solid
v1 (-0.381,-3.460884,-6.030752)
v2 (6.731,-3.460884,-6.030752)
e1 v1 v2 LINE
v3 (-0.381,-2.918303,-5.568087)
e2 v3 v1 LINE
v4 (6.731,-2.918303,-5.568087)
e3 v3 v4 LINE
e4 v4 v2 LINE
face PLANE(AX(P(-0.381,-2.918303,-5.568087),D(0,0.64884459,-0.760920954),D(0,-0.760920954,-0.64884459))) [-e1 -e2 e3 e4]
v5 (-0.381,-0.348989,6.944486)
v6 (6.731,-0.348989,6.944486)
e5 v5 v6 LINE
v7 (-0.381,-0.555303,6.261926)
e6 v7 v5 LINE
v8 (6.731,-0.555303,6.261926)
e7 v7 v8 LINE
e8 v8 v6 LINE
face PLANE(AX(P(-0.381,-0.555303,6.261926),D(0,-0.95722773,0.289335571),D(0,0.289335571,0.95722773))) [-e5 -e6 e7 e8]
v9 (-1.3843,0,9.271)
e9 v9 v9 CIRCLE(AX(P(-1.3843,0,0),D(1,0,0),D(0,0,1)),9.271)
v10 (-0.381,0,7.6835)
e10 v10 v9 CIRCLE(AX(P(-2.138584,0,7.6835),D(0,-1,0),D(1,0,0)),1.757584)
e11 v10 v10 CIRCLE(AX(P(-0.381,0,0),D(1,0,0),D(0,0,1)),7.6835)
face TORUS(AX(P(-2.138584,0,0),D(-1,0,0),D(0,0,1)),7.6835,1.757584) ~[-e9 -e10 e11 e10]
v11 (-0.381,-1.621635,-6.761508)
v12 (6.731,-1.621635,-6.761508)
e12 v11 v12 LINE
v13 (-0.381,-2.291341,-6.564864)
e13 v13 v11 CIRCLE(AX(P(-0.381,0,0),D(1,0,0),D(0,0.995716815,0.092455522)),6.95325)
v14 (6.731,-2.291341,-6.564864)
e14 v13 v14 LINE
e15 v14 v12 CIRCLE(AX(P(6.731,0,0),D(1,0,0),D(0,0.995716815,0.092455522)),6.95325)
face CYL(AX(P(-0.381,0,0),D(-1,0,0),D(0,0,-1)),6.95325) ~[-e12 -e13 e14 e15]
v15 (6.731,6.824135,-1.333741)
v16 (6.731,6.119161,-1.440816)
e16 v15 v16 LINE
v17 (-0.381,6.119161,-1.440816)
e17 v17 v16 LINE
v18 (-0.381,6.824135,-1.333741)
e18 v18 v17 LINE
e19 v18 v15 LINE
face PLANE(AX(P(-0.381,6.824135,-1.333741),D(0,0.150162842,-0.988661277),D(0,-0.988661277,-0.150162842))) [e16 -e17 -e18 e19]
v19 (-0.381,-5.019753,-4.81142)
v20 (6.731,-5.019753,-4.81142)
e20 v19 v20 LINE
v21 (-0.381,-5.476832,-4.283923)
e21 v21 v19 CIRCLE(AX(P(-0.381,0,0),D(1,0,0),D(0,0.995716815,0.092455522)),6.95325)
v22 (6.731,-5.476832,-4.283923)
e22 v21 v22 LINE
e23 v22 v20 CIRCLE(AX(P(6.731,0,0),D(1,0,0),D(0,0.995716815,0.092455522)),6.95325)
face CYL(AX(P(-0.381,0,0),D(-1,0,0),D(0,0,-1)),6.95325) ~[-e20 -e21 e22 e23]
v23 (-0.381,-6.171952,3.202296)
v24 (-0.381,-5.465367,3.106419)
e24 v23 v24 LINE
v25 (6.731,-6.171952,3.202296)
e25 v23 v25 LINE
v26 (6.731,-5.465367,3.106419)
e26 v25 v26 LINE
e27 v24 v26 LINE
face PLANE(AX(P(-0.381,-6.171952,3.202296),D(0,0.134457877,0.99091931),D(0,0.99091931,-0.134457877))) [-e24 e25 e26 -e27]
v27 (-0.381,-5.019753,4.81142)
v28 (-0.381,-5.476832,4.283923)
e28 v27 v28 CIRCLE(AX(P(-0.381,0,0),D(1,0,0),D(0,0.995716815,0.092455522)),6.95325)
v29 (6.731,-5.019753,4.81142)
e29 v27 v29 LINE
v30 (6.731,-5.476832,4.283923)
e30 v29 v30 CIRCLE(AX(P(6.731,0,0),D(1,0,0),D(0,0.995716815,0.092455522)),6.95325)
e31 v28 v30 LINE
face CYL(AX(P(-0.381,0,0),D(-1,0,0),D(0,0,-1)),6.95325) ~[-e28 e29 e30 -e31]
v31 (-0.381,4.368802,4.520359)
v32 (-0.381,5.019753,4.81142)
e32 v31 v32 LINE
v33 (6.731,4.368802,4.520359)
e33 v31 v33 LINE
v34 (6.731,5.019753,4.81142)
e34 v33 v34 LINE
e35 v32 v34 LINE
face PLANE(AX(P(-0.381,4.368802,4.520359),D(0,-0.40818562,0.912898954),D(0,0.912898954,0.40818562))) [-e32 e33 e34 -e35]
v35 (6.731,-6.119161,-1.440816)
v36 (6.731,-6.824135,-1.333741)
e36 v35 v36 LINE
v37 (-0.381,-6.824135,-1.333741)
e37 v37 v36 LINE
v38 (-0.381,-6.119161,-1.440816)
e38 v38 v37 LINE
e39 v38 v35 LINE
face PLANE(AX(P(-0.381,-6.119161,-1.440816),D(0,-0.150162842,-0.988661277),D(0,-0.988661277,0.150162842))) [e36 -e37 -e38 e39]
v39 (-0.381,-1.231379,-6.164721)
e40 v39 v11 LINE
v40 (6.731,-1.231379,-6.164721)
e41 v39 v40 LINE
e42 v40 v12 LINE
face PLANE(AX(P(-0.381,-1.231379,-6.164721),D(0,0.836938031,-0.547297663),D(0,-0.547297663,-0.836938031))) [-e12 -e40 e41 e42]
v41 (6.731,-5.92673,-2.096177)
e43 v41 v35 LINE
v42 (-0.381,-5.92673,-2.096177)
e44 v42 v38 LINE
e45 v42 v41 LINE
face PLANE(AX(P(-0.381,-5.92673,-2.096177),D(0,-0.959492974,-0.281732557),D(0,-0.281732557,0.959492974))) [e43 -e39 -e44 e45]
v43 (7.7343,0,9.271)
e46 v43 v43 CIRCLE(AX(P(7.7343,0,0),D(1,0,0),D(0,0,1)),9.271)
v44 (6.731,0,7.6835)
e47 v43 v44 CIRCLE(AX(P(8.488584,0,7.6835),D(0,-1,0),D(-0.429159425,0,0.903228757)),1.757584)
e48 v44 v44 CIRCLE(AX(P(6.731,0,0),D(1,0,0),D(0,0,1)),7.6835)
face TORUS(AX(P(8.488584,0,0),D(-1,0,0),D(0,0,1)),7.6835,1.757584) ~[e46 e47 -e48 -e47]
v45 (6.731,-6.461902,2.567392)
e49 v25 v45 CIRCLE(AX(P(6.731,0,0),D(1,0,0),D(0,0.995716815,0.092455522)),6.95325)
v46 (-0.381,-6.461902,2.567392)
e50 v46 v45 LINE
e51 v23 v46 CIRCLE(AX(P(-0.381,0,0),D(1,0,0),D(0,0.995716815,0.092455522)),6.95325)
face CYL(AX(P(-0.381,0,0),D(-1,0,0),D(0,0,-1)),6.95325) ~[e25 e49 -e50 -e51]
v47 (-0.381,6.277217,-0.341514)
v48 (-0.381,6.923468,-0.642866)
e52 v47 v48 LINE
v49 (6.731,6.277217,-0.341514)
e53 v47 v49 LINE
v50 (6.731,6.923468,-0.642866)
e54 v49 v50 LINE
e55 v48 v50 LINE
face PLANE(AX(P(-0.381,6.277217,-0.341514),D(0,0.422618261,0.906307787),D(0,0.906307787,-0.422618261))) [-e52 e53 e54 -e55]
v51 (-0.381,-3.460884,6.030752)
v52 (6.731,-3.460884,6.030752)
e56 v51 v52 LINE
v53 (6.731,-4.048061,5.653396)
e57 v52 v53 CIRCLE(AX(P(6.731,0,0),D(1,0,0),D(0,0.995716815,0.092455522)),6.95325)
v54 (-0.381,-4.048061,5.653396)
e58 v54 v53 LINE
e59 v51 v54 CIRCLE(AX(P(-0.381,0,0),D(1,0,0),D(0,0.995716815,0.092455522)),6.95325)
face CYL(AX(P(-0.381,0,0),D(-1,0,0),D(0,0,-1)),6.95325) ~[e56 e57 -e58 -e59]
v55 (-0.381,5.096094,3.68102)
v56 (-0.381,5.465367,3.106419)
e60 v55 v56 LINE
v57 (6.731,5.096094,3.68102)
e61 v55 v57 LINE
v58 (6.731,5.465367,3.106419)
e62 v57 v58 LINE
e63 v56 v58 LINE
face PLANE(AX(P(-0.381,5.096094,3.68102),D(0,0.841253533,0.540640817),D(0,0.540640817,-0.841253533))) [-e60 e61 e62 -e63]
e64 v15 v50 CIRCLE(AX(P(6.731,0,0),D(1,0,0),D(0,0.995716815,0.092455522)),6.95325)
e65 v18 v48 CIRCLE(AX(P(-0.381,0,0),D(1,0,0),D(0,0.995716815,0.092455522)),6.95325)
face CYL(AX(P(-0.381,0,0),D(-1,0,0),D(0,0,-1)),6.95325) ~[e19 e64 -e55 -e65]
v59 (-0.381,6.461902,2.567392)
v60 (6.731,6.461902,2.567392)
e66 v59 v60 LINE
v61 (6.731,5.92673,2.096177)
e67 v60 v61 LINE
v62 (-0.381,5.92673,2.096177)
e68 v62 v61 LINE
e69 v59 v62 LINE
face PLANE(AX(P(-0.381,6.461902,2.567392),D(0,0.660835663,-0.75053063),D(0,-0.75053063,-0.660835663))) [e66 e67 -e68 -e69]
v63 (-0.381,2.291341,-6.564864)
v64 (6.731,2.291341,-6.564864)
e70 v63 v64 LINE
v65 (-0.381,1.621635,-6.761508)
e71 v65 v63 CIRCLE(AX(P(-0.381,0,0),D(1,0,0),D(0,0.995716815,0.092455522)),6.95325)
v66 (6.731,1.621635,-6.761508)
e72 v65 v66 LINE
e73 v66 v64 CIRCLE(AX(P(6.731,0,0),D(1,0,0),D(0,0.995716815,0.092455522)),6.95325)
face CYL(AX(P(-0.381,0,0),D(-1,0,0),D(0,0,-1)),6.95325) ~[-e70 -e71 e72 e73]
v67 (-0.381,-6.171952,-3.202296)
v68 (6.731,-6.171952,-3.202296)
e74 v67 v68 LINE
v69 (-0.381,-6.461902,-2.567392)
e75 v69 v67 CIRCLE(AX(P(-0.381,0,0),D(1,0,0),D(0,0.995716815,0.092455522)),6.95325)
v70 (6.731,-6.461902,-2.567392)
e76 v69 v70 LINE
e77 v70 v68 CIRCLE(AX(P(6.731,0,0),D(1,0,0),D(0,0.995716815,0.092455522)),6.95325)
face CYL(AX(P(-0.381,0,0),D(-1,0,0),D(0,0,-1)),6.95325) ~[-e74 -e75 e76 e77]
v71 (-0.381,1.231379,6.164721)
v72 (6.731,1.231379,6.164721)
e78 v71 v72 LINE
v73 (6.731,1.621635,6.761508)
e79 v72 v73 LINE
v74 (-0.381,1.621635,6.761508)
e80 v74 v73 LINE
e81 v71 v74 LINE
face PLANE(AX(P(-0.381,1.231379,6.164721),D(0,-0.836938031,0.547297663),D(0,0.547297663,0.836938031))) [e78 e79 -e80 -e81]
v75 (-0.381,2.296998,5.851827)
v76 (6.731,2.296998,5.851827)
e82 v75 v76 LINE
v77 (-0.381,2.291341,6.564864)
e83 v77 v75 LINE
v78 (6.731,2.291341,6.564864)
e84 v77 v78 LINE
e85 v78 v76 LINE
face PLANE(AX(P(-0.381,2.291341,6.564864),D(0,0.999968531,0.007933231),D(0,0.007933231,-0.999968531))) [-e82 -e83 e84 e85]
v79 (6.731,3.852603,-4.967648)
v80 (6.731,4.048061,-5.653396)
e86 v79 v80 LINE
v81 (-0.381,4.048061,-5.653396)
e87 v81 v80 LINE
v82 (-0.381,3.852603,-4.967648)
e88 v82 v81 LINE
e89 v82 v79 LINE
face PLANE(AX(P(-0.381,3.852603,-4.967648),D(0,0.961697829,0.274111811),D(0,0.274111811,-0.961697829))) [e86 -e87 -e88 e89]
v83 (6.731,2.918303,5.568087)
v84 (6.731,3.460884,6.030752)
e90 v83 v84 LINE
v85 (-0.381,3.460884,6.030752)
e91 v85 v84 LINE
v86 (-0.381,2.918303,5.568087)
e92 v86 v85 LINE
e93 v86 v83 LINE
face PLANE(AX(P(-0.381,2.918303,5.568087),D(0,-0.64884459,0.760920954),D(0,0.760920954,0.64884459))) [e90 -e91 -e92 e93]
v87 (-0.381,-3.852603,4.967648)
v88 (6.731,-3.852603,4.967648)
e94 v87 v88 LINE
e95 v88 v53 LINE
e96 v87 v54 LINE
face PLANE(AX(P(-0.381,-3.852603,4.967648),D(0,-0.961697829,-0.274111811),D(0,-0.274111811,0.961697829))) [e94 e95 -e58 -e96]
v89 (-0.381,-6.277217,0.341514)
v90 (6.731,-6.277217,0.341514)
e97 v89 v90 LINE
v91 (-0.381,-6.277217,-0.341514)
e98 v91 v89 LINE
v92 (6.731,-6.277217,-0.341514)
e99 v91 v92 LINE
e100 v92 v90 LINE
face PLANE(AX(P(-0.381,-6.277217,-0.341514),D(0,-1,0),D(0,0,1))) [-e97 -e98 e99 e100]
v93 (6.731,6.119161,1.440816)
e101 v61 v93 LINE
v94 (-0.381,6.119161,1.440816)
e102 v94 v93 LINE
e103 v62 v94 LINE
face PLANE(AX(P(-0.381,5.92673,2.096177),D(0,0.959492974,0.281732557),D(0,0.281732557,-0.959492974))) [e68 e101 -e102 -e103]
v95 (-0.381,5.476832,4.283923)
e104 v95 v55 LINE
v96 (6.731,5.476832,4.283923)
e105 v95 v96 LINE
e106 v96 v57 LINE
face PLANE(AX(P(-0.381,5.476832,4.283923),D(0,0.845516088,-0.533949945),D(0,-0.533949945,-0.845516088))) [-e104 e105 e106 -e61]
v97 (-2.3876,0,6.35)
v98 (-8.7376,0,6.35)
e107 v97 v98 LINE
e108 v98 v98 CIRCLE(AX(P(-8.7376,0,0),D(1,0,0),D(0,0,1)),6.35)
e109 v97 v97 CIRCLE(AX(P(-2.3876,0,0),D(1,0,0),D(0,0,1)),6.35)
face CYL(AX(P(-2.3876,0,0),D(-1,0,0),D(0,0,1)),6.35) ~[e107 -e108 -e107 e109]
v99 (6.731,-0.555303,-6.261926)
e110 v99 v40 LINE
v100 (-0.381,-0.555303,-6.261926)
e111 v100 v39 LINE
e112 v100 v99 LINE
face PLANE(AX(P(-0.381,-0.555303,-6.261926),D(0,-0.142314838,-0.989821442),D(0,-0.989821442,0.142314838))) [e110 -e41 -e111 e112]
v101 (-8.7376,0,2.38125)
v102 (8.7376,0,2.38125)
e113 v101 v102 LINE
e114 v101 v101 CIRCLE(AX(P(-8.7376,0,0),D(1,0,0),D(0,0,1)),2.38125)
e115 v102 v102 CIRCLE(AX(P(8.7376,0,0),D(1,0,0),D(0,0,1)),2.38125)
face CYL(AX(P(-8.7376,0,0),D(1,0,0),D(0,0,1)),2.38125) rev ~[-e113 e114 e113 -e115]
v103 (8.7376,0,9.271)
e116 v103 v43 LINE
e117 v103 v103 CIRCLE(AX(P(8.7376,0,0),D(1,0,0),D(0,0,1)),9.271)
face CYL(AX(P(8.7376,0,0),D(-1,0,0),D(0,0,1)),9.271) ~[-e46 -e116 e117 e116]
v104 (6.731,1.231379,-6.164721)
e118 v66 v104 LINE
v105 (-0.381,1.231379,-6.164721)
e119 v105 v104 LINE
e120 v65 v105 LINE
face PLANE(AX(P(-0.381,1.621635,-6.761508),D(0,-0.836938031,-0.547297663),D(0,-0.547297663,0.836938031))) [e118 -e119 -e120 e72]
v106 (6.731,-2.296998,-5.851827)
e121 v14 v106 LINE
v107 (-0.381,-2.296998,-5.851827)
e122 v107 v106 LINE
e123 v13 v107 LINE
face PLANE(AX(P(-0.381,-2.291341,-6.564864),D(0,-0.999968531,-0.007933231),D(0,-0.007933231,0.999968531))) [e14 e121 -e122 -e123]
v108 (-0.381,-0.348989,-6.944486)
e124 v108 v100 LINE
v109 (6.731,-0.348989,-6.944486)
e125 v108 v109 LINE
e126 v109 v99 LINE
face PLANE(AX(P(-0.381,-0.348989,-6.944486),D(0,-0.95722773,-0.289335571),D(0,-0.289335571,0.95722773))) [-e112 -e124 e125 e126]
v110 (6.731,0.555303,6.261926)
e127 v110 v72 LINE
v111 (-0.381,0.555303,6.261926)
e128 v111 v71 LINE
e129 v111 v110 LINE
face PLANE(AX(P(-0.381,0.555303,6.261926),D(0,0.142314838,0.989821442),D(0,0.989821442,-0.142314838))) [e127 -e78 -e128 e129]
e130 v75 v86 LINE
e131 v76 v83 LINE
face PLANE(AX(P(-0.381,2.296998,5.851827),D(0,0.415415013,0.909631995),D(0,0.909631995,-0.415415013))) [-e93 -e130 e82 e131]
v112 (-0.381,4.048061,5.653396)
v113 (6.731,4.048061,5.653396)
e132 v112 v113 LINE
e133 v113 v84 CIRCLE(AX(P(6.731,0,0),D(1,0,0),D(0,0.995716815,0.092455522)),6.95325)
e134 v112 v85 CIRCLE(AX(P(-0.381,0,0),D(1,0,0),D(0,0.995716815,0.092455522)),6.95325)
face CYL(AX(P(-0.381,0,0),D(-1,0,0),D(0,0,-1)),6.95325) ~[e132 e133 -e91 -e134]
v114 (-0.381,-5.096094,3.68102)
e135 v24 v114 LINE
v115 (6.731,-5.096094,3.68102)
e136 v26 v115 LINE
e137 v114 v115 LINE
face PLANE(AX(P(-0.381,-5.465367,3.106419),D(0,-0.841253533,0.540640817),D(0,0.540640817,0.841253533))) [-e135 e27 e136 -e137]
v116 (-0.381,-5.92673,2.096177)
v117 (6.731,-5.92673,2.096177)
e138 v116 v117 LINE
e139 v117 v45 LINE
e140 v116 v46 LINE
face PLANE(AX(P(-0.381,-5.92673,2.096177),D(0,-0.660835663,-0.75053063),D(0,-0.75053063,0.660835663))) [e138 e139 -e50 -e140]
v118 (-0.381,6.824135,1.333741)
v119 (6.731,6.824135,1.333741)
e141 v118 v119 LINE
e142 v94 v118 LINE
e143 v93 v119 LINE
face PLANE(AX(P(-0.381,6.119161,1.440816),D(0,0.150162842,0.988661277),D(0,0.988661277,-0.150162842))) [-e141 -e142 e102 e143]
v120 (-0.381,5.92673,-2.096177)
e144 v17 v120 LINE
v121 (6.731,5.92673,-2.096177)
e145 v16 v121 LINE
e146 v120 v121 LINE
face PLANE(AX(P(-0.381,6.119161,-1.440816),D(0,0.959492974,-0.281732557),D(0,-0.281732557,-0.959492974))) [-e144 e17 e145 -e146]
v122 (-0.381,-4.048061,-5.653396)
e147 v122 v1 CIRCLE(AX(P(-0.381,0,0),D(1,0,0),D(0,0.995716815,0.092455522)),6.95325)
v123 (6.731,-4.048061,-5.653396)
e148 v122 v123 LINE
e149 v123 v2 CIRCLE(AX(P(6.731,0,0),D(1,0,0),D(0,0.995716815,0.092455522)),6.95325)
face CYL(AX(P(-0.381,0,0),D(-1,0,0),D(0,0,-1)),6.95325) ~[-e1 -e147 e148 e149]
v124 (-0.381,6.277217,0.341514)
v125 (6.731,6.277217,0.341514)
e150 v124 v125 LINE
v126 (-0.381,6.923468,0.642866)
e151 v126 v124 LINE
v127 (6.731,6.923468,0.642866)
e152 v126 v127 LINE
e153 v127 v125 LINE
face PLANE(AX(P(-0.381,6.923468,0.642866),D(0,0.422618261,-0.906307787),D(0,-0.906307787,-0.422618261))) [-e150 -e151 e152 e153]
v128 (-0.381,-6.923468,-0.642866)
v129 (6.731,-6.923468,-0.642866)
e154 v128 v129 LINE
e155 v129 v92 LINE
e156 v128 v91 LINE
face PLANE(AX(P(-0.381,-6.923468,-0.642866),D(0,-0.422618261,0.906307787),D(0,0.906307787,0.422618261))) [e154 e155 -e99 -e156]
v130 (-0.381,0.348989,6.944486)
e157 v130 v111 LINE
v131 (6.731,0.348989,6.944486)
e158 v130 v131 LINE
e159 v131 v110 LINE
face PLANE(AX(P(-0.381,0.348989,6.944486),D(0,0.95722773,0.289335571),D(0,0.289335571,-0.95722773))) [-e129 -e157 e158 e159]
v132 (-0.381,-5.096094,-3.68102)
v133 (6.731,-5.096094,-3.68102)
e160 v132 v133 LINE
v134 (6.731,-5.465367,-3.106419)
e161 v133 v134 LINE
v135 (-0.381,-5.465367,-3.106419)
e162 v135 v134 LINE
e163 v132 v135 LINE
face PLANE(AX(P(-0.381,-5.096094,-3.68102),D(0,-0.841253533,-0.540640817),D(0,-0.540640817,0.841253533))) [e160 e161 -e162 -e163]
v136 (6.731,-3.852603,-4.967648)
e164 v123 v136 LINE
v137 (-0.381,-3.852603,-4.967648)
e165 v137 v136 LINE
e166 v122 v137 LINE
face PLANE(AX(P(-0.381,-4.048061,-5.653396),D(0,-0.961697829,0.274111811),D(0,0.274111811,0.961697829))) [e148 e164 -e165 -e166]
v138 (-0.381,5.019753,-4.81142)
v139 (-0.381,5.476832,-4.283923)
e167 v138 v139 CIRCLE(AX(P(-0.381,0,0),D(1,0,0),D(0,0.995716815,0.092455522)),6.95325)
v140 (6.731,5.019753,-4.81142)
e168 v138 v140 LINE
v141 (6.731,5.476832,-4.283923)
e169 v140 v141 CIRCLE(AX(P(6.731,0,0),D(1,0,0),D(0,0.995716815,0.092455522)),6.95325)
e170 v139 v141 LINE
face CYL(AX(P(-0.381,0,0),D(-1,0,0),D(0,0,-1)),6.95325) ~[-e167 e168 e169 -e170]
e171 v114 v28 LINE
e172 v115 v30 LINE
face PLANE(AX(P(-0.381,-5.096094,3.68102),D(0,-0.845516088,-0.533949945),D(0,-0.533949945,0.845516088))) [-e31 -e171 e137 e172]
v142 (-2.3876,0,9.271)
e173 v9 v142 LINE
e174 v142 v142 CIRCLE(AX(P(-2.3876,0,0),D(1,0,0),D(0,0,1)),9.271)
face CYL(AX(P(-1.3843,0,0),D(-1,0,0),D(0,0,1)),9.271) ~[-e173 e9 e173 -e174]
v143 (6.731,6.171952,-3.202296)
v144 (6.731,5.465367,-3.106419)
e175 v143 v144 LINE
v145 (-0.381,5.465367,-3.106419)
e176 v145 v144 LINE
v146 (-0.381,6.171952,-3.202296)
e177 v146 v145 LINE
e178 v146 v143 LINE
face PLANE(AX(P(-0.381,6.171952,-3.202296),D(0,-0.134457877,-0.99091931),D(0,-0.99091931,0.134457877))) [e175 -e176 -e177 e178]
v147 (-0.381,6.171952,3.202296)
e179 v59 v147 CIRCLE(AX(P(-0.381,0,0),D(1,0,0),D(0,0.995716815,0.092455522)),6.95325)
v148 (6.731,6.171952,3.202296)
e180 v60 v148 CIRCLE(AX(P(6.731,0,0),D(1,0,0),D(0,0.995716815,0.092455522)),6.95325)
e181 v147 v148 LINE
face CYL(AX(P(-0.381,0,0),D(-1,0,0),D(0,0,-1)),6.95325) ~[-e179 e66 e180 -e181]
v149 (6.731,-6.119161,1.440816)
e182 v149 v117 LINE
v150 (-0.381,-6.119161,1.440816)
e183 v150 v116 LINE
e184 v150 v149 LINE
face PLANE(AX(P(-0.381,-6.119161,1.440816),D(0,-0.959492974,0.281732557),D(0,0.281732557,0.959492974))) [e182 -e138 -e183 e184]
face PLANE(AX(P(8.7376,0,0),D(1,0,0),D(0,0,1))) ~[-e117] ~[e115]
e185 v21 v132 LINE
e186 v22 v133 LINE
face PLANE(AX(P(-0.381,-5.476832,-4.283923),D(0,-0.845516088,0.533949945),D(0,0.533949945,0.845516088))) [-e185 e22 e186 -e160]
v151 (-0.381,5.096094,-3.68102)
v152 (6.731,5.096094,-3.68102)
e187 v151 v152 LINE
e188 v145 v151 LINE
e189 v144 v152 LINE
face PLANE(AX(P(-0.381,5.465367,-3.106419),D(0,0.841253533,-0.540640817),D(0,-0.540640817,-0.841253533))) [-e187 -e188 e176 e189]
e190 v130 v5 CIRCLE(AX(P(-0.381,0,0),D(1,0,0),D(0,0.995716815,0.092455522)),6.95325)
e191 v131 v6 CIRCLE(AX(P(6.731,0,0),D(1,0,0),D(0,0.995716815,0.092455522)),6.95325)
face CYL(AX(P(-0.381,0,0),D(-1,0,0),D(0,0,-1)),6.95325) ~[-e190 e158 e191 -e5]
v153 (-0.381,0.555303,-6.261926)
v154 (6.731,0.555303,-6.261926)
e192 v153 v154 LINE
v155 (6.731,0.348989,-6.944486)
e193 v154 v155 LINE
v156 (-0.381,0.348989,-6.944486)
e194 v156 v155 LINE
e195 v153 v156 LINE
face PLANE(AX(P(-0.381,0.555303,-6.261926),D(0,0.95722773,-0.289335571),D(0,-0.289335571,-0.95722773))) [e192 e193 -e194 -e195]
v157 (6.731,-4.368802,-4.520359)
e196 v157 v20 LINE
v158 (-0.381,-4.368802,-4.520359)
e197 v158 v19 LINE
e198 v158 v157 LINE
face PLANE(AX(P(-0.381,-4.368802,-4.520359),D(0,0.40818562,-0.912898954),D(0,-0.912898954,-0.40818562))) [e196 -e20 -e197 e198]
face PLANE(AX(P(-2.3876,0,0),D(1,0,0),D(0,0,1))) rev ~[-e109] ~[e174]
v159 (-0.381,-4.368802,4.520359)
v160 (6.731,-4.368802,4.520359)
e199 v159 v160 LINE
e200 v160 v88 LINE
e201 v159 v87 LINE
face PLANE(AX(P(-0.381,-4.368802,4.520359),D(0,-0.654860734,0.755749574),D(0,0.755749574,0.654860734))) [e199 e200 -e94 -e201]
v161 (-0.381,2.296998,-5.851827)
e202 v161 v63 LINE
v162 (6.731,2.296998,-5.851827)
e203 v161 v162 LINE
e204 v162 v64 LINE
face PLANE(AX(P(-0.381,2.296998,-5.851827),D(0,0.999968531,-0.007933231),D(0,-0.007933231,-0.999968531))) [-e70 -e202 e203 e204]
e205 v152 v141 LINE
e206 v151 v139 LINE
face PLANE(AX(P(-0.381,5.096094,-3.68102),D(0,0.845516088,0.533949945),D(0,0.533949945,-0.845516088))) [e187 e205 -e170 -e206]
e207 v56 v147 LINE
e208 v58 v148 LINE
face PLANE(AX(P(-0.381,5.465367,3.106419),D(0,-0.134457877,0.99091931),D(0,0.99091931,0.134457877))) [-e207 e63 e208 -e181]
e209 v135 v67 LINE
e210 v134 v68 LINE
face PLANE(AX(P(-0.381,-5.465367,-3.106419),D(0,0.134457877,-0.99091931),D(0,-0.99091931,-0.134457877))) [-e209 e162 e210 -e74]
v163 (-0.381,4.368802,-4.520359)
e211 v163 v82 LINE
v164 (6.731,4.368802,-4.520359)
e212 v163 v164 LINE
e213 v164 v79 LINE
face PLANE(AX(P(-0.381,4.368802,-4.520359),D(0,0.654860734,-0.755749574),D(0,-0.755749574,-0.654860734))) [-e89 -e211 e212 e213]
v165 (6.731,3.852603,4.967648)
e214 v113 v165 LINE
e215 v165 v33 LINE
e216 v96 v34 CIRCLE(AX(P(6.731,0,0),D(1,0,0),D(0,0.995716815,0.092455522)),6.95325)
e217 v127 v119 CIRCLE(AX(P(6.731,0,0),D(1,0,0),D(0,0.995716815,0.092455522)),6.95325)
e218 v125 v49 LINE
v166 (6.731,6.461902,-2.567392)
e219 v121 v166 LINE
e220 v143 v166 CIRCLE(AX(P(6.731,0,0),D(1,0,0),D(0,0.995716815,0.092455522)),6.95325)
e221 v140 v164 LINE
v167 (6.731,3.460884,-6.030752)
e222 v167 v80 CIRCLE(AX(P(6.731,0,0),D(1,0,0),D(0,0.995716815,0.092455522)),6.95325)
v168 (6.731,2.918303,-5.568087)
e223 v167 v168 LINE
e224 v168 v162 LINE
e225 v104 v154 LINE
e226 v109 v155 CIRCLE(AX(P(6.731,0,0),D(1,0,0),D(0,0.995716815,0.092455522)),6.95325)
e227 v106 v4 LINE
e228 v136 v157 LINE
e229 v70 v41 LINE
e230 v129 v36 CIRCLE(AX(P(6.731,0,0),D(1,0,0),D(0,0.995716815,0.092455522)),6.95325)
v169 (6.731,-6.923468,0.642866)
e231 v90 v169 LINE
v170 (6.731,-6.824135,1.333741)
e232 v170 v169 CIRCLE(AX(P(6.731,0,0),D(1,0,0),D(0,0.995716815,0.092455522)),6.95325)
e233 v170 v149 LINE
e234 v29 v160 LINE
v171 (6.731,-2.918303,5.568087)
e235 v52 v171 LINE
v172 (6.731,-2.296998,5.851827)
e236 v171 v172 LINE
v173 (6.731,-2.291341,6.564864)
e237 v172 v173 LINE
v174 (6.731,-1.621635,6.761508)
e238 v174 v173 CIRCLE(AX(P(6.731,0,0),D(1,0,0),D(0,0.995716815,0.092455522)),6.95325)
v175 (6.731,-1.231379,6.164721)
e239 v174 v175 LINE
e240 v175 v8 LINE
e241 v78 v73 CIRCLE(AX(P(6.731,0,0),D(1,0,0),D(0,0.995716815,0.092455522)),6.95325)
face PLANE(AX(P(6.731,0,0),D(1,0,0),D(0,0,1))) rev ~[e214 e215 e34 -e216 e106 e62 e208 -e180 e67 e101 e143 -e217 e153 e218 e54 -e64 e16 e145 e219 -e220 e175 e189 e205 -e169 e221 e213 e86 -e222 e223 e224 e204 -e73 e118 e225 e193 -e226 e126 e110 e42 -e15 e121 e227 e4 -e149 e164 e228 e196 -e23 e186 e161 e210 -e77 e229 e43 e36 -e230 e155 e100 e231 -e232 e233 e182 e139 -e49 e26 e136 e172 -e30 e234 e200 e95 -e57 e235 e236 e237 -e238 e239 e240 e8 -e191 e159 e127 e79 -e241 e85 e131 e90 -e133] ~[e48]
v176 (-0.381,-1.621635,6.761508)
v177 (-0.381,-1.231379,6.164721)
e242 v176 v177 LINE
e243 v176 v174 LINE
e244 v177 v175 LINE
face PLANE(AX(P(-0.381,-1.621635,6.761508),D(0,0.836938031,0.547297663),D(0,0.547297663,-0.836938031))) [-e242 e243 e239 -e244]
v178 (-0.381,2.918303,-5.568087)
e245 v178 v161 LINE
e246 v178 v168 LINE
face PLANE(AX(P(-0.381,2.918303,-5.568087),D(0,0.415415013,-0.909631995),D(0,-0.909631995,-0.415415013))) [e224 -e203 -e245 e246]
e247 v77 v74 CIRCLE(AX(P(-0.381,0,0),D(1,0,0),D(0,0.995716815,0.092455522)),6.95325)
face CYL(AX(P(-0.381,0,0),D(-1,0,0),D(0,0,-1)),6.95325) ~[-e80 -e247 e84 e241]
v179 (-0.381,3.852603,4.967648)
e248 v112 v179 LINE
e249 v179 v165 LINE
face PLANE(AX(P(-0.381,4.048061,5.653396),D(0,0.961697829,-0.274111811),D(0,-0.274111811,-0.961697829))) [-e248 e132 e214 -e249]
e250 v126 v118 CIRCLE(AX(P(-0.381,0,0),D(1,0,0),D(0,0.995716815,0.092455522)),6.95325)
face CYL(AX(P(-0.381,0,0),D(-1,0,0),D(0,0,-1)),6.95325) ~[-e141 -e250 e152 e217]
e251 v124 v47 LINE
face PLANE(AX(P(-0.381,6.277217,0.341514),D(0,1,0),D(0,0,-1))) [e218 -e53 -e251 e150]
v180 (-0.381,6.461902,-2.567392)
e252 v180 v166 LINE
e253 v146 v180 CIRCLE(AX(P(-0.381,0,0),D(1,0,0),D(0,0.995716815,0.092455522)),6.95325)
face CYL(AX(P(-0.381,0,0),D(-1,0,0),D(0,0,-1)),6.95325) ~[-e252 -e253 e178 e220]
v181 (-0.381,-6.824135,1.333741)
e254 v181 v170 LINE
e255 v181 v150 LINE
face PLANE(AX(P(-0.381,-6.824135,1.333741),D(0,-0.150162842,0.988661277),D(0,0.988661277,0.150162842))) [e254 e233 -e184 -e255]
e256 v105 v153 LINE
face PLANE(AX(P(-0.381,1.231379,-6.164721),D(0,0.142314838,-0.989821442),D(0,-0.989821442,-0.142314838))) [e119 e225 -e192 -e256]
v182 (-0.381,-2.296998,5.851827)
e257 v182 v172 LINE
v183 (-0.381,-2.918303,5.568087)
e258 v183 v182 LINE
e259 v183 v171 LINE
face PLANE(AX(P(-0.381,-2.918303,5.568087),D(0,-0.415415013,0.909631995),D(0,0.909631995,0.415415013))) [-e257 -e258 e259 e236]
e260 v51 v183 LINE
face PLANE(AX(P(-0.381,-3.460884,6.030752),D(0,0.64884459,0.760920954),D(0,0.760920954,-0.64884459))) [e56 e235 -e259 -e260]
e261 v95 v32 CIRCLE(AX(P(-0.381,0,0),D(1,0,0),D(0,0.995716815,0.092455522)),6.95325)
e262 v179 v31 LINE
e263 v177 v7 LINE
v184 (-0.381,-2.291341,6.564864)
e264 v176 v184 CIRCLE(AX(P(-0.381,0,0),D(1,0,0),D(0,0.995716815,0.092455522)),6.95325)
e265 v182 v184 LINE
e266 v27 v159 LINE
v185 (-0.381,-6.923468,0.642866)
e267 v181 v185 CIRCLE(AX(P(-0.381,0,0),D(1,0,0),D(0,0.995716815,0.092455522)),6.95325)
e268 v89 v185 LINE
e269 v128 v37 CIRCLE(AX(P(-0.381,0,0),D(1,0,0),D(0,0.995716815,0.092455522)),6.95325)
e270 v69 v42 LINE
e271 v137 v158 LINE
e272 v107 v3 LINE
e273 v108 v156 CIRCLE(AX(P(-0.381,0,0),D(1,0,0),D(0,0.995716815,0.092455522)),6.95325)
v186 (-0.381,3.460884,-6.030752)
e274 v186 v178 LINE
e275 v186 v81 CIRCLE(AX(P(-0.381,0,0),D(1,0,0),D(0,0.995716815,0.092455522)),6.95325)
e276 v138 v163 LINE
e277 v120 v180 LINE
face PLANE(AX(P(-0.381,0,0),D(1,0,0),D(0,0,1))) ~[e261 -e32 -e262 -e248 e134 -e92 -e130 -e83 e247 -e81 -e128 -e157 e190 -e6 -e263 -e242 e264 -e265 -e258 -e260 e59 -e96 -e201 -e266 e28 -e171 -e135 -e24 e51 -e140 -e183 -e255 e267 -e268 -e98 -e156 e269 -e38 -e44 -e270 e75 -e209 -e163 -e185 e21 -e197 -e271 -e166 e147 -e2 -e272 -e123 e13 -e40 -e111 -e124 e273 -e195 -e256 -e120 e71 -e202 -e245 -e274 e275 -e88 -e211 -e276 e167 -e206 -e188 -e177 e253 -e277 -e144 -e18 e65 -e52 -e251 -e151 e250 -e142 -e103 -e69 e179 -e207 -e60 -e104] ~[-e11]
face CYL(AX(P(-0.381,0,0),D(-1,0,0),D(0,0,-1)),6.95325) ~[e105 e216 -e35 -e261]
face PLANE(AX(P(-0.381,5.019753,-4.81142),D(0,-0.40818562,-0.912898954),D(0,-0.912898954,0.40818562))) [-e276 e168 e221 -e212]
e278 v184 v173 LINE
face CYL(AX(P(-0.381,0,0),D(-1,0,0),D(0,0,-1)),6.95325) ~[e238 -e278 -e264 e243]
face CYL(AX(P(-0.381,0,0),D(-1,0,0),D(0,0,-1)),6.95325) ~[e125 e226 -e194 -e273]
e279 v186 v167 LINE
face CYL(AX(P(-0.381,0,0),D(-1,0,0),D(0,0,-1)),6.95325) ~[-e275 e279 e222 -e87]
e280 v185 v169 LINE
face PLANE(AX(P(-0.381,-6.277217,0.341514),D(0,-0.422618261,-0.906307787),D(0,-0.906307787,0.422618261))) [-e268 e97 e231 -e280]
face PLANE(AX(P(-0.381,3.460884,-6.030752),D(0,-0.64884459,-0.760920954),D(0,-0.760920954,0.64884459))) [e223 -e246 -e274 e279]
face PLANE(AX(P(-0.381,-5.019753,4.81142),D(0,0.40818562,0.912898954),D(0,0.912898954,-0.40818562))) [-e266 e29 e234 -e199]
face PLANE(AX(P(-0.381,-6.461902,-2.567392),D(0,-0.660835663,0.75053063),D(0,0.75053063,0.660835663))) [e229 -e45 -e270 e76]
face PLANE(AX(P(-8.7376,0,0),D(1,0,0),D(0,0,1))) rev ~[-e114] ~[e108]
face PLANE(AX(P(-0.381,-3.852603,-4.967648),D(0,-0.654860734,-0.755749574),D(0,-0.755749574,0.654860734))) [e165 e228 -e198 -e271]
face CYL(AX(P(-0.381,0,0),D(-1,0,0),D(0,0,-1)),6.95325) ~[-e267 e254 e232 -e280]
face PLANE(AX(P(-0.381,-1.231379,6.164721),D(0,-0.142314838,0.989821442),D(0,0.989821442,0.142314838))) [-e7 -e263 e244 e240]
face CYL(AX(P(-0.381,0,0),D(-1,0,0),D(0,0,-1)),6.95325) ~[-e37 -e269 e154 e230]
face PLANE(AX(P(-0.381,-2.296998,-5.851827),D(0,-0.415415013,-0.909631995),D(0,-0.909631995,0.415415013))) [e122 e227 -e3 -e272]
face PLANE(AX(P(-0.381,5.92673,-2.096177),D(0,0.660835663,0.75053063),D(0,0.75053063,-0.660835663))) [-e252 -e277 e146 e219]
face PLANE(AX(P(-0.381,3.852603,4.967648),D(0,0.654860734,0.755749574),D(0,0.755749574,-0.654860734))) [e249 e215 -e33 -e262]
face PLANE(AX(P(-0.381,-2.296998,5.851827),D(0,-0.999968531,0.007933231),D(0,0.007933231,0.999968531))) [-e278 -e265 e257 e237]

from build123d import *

# Parameters (mm, degrees)
SKETCH4_R          = 7.112
SKETCH4_R_2        = 6.95325
CUT_EXTRUDE2_DEPTH = 7.112
CUT_EXTRUDE1_DEPTH = 7.112
CIRPATTERN1_COUNT  = 22


with BuildPart() as part:
    # Sketch1 → Revolve1 (revolve)
    with BuildSketch(Plane.XY, mode=Mode.PRIVATE) as revolve1_sk:
        with BuildLine():
            Line((-8.7376, 2.38125), (8.7376, 2.38125))
            Line((8.7376, 2.38125), (8.7376, 9.271))
            Line((8.7376, 9.271), (7.7343, 9.271))
            ThreePointArc((7.7343, 9.271), (7.002848665, 8.622484443), (6.731, 7.6835))
            Line((6.731, 7.6835), (6.731, 7.112))
            Line((6.731, 7.112), (-0.381, 7.112))
            Line((-0.381, 7.112), (-0.381, 7.6835))
            ThreePointArc((-0.381, 7.6835), (-0.652848665, 8.622484443), (-1.3843, 9.271))
            Line((-1.3843, 9.271), (-2.3876, 9.271))
            Line((-2.3876, 9.271), (-2.3876, 6.35))
            Line((-2.3876, 6.35), (-8.7376, 6.35))
            Line((-8.7376, 6.35), (-8.7376, 2.38125))
        make_face()
    revolve(revolve1_sk.sketch.rotate(Axis((-8.7376, 0, 0), (1, 0, 0)), 90), axis=Axis((-8.7376, 0, 0), (1, 0, 0)))

    # Sketch4 → Cut-Extrude2 (cut)
    with BuildSketch(Plane(origin=(-0.381, 0, 0), x_dir=(0, 0, -1), z_dir=(1, 0, 0))):
        Circle(SKETCH4_R)
        Circle(SKETCH4_R_2, mode=Mode.SUBTRACT)
    extrude(amount=CUT_EXTRUDE2_DEPTH, mode=Mode.SUBTRACT)

    # Sketch3 → Cut-Extrude1 (cut)
    with BuildSketch(Plane(origin=(-0.381, 0, 0), x_dir=(0, 0, -1), z_dir=(1, 0, 0))):
        with BuildLine():
            Line((-0.642866361, 6.923467946), (-0.341514479, 6.277216749))
            Line((-0.341514479, 6.277216749), (0.341514479, 6.277216749))
            Line((0.341514479, 6.277216749), (0.642866361, 6.923467946))
            ThreePointArc((0.642866361, 6.923467946), (0, 6.95325), (-0.642866361, 6.923467946))
        make_face()
    cut_extrude1 = extrude(amount=CUT_EXTRUDE1_DEPTH, mode=Mode.SUBTRACT)

    # CirPattern1: Cut-Extrude1 ×22 about axis
    cirpattern1_axis = Axis((0, 0, 0), (1, 0, 0))
    for i in range(1, CIRPATTERN1_COUNT):
        add(cut_extrude1.rotate(cirpattern1_axis, i * 360 / CIRPATTERN1_COUNT), mode=Mode.SUBTRACT)


solid = part.part
